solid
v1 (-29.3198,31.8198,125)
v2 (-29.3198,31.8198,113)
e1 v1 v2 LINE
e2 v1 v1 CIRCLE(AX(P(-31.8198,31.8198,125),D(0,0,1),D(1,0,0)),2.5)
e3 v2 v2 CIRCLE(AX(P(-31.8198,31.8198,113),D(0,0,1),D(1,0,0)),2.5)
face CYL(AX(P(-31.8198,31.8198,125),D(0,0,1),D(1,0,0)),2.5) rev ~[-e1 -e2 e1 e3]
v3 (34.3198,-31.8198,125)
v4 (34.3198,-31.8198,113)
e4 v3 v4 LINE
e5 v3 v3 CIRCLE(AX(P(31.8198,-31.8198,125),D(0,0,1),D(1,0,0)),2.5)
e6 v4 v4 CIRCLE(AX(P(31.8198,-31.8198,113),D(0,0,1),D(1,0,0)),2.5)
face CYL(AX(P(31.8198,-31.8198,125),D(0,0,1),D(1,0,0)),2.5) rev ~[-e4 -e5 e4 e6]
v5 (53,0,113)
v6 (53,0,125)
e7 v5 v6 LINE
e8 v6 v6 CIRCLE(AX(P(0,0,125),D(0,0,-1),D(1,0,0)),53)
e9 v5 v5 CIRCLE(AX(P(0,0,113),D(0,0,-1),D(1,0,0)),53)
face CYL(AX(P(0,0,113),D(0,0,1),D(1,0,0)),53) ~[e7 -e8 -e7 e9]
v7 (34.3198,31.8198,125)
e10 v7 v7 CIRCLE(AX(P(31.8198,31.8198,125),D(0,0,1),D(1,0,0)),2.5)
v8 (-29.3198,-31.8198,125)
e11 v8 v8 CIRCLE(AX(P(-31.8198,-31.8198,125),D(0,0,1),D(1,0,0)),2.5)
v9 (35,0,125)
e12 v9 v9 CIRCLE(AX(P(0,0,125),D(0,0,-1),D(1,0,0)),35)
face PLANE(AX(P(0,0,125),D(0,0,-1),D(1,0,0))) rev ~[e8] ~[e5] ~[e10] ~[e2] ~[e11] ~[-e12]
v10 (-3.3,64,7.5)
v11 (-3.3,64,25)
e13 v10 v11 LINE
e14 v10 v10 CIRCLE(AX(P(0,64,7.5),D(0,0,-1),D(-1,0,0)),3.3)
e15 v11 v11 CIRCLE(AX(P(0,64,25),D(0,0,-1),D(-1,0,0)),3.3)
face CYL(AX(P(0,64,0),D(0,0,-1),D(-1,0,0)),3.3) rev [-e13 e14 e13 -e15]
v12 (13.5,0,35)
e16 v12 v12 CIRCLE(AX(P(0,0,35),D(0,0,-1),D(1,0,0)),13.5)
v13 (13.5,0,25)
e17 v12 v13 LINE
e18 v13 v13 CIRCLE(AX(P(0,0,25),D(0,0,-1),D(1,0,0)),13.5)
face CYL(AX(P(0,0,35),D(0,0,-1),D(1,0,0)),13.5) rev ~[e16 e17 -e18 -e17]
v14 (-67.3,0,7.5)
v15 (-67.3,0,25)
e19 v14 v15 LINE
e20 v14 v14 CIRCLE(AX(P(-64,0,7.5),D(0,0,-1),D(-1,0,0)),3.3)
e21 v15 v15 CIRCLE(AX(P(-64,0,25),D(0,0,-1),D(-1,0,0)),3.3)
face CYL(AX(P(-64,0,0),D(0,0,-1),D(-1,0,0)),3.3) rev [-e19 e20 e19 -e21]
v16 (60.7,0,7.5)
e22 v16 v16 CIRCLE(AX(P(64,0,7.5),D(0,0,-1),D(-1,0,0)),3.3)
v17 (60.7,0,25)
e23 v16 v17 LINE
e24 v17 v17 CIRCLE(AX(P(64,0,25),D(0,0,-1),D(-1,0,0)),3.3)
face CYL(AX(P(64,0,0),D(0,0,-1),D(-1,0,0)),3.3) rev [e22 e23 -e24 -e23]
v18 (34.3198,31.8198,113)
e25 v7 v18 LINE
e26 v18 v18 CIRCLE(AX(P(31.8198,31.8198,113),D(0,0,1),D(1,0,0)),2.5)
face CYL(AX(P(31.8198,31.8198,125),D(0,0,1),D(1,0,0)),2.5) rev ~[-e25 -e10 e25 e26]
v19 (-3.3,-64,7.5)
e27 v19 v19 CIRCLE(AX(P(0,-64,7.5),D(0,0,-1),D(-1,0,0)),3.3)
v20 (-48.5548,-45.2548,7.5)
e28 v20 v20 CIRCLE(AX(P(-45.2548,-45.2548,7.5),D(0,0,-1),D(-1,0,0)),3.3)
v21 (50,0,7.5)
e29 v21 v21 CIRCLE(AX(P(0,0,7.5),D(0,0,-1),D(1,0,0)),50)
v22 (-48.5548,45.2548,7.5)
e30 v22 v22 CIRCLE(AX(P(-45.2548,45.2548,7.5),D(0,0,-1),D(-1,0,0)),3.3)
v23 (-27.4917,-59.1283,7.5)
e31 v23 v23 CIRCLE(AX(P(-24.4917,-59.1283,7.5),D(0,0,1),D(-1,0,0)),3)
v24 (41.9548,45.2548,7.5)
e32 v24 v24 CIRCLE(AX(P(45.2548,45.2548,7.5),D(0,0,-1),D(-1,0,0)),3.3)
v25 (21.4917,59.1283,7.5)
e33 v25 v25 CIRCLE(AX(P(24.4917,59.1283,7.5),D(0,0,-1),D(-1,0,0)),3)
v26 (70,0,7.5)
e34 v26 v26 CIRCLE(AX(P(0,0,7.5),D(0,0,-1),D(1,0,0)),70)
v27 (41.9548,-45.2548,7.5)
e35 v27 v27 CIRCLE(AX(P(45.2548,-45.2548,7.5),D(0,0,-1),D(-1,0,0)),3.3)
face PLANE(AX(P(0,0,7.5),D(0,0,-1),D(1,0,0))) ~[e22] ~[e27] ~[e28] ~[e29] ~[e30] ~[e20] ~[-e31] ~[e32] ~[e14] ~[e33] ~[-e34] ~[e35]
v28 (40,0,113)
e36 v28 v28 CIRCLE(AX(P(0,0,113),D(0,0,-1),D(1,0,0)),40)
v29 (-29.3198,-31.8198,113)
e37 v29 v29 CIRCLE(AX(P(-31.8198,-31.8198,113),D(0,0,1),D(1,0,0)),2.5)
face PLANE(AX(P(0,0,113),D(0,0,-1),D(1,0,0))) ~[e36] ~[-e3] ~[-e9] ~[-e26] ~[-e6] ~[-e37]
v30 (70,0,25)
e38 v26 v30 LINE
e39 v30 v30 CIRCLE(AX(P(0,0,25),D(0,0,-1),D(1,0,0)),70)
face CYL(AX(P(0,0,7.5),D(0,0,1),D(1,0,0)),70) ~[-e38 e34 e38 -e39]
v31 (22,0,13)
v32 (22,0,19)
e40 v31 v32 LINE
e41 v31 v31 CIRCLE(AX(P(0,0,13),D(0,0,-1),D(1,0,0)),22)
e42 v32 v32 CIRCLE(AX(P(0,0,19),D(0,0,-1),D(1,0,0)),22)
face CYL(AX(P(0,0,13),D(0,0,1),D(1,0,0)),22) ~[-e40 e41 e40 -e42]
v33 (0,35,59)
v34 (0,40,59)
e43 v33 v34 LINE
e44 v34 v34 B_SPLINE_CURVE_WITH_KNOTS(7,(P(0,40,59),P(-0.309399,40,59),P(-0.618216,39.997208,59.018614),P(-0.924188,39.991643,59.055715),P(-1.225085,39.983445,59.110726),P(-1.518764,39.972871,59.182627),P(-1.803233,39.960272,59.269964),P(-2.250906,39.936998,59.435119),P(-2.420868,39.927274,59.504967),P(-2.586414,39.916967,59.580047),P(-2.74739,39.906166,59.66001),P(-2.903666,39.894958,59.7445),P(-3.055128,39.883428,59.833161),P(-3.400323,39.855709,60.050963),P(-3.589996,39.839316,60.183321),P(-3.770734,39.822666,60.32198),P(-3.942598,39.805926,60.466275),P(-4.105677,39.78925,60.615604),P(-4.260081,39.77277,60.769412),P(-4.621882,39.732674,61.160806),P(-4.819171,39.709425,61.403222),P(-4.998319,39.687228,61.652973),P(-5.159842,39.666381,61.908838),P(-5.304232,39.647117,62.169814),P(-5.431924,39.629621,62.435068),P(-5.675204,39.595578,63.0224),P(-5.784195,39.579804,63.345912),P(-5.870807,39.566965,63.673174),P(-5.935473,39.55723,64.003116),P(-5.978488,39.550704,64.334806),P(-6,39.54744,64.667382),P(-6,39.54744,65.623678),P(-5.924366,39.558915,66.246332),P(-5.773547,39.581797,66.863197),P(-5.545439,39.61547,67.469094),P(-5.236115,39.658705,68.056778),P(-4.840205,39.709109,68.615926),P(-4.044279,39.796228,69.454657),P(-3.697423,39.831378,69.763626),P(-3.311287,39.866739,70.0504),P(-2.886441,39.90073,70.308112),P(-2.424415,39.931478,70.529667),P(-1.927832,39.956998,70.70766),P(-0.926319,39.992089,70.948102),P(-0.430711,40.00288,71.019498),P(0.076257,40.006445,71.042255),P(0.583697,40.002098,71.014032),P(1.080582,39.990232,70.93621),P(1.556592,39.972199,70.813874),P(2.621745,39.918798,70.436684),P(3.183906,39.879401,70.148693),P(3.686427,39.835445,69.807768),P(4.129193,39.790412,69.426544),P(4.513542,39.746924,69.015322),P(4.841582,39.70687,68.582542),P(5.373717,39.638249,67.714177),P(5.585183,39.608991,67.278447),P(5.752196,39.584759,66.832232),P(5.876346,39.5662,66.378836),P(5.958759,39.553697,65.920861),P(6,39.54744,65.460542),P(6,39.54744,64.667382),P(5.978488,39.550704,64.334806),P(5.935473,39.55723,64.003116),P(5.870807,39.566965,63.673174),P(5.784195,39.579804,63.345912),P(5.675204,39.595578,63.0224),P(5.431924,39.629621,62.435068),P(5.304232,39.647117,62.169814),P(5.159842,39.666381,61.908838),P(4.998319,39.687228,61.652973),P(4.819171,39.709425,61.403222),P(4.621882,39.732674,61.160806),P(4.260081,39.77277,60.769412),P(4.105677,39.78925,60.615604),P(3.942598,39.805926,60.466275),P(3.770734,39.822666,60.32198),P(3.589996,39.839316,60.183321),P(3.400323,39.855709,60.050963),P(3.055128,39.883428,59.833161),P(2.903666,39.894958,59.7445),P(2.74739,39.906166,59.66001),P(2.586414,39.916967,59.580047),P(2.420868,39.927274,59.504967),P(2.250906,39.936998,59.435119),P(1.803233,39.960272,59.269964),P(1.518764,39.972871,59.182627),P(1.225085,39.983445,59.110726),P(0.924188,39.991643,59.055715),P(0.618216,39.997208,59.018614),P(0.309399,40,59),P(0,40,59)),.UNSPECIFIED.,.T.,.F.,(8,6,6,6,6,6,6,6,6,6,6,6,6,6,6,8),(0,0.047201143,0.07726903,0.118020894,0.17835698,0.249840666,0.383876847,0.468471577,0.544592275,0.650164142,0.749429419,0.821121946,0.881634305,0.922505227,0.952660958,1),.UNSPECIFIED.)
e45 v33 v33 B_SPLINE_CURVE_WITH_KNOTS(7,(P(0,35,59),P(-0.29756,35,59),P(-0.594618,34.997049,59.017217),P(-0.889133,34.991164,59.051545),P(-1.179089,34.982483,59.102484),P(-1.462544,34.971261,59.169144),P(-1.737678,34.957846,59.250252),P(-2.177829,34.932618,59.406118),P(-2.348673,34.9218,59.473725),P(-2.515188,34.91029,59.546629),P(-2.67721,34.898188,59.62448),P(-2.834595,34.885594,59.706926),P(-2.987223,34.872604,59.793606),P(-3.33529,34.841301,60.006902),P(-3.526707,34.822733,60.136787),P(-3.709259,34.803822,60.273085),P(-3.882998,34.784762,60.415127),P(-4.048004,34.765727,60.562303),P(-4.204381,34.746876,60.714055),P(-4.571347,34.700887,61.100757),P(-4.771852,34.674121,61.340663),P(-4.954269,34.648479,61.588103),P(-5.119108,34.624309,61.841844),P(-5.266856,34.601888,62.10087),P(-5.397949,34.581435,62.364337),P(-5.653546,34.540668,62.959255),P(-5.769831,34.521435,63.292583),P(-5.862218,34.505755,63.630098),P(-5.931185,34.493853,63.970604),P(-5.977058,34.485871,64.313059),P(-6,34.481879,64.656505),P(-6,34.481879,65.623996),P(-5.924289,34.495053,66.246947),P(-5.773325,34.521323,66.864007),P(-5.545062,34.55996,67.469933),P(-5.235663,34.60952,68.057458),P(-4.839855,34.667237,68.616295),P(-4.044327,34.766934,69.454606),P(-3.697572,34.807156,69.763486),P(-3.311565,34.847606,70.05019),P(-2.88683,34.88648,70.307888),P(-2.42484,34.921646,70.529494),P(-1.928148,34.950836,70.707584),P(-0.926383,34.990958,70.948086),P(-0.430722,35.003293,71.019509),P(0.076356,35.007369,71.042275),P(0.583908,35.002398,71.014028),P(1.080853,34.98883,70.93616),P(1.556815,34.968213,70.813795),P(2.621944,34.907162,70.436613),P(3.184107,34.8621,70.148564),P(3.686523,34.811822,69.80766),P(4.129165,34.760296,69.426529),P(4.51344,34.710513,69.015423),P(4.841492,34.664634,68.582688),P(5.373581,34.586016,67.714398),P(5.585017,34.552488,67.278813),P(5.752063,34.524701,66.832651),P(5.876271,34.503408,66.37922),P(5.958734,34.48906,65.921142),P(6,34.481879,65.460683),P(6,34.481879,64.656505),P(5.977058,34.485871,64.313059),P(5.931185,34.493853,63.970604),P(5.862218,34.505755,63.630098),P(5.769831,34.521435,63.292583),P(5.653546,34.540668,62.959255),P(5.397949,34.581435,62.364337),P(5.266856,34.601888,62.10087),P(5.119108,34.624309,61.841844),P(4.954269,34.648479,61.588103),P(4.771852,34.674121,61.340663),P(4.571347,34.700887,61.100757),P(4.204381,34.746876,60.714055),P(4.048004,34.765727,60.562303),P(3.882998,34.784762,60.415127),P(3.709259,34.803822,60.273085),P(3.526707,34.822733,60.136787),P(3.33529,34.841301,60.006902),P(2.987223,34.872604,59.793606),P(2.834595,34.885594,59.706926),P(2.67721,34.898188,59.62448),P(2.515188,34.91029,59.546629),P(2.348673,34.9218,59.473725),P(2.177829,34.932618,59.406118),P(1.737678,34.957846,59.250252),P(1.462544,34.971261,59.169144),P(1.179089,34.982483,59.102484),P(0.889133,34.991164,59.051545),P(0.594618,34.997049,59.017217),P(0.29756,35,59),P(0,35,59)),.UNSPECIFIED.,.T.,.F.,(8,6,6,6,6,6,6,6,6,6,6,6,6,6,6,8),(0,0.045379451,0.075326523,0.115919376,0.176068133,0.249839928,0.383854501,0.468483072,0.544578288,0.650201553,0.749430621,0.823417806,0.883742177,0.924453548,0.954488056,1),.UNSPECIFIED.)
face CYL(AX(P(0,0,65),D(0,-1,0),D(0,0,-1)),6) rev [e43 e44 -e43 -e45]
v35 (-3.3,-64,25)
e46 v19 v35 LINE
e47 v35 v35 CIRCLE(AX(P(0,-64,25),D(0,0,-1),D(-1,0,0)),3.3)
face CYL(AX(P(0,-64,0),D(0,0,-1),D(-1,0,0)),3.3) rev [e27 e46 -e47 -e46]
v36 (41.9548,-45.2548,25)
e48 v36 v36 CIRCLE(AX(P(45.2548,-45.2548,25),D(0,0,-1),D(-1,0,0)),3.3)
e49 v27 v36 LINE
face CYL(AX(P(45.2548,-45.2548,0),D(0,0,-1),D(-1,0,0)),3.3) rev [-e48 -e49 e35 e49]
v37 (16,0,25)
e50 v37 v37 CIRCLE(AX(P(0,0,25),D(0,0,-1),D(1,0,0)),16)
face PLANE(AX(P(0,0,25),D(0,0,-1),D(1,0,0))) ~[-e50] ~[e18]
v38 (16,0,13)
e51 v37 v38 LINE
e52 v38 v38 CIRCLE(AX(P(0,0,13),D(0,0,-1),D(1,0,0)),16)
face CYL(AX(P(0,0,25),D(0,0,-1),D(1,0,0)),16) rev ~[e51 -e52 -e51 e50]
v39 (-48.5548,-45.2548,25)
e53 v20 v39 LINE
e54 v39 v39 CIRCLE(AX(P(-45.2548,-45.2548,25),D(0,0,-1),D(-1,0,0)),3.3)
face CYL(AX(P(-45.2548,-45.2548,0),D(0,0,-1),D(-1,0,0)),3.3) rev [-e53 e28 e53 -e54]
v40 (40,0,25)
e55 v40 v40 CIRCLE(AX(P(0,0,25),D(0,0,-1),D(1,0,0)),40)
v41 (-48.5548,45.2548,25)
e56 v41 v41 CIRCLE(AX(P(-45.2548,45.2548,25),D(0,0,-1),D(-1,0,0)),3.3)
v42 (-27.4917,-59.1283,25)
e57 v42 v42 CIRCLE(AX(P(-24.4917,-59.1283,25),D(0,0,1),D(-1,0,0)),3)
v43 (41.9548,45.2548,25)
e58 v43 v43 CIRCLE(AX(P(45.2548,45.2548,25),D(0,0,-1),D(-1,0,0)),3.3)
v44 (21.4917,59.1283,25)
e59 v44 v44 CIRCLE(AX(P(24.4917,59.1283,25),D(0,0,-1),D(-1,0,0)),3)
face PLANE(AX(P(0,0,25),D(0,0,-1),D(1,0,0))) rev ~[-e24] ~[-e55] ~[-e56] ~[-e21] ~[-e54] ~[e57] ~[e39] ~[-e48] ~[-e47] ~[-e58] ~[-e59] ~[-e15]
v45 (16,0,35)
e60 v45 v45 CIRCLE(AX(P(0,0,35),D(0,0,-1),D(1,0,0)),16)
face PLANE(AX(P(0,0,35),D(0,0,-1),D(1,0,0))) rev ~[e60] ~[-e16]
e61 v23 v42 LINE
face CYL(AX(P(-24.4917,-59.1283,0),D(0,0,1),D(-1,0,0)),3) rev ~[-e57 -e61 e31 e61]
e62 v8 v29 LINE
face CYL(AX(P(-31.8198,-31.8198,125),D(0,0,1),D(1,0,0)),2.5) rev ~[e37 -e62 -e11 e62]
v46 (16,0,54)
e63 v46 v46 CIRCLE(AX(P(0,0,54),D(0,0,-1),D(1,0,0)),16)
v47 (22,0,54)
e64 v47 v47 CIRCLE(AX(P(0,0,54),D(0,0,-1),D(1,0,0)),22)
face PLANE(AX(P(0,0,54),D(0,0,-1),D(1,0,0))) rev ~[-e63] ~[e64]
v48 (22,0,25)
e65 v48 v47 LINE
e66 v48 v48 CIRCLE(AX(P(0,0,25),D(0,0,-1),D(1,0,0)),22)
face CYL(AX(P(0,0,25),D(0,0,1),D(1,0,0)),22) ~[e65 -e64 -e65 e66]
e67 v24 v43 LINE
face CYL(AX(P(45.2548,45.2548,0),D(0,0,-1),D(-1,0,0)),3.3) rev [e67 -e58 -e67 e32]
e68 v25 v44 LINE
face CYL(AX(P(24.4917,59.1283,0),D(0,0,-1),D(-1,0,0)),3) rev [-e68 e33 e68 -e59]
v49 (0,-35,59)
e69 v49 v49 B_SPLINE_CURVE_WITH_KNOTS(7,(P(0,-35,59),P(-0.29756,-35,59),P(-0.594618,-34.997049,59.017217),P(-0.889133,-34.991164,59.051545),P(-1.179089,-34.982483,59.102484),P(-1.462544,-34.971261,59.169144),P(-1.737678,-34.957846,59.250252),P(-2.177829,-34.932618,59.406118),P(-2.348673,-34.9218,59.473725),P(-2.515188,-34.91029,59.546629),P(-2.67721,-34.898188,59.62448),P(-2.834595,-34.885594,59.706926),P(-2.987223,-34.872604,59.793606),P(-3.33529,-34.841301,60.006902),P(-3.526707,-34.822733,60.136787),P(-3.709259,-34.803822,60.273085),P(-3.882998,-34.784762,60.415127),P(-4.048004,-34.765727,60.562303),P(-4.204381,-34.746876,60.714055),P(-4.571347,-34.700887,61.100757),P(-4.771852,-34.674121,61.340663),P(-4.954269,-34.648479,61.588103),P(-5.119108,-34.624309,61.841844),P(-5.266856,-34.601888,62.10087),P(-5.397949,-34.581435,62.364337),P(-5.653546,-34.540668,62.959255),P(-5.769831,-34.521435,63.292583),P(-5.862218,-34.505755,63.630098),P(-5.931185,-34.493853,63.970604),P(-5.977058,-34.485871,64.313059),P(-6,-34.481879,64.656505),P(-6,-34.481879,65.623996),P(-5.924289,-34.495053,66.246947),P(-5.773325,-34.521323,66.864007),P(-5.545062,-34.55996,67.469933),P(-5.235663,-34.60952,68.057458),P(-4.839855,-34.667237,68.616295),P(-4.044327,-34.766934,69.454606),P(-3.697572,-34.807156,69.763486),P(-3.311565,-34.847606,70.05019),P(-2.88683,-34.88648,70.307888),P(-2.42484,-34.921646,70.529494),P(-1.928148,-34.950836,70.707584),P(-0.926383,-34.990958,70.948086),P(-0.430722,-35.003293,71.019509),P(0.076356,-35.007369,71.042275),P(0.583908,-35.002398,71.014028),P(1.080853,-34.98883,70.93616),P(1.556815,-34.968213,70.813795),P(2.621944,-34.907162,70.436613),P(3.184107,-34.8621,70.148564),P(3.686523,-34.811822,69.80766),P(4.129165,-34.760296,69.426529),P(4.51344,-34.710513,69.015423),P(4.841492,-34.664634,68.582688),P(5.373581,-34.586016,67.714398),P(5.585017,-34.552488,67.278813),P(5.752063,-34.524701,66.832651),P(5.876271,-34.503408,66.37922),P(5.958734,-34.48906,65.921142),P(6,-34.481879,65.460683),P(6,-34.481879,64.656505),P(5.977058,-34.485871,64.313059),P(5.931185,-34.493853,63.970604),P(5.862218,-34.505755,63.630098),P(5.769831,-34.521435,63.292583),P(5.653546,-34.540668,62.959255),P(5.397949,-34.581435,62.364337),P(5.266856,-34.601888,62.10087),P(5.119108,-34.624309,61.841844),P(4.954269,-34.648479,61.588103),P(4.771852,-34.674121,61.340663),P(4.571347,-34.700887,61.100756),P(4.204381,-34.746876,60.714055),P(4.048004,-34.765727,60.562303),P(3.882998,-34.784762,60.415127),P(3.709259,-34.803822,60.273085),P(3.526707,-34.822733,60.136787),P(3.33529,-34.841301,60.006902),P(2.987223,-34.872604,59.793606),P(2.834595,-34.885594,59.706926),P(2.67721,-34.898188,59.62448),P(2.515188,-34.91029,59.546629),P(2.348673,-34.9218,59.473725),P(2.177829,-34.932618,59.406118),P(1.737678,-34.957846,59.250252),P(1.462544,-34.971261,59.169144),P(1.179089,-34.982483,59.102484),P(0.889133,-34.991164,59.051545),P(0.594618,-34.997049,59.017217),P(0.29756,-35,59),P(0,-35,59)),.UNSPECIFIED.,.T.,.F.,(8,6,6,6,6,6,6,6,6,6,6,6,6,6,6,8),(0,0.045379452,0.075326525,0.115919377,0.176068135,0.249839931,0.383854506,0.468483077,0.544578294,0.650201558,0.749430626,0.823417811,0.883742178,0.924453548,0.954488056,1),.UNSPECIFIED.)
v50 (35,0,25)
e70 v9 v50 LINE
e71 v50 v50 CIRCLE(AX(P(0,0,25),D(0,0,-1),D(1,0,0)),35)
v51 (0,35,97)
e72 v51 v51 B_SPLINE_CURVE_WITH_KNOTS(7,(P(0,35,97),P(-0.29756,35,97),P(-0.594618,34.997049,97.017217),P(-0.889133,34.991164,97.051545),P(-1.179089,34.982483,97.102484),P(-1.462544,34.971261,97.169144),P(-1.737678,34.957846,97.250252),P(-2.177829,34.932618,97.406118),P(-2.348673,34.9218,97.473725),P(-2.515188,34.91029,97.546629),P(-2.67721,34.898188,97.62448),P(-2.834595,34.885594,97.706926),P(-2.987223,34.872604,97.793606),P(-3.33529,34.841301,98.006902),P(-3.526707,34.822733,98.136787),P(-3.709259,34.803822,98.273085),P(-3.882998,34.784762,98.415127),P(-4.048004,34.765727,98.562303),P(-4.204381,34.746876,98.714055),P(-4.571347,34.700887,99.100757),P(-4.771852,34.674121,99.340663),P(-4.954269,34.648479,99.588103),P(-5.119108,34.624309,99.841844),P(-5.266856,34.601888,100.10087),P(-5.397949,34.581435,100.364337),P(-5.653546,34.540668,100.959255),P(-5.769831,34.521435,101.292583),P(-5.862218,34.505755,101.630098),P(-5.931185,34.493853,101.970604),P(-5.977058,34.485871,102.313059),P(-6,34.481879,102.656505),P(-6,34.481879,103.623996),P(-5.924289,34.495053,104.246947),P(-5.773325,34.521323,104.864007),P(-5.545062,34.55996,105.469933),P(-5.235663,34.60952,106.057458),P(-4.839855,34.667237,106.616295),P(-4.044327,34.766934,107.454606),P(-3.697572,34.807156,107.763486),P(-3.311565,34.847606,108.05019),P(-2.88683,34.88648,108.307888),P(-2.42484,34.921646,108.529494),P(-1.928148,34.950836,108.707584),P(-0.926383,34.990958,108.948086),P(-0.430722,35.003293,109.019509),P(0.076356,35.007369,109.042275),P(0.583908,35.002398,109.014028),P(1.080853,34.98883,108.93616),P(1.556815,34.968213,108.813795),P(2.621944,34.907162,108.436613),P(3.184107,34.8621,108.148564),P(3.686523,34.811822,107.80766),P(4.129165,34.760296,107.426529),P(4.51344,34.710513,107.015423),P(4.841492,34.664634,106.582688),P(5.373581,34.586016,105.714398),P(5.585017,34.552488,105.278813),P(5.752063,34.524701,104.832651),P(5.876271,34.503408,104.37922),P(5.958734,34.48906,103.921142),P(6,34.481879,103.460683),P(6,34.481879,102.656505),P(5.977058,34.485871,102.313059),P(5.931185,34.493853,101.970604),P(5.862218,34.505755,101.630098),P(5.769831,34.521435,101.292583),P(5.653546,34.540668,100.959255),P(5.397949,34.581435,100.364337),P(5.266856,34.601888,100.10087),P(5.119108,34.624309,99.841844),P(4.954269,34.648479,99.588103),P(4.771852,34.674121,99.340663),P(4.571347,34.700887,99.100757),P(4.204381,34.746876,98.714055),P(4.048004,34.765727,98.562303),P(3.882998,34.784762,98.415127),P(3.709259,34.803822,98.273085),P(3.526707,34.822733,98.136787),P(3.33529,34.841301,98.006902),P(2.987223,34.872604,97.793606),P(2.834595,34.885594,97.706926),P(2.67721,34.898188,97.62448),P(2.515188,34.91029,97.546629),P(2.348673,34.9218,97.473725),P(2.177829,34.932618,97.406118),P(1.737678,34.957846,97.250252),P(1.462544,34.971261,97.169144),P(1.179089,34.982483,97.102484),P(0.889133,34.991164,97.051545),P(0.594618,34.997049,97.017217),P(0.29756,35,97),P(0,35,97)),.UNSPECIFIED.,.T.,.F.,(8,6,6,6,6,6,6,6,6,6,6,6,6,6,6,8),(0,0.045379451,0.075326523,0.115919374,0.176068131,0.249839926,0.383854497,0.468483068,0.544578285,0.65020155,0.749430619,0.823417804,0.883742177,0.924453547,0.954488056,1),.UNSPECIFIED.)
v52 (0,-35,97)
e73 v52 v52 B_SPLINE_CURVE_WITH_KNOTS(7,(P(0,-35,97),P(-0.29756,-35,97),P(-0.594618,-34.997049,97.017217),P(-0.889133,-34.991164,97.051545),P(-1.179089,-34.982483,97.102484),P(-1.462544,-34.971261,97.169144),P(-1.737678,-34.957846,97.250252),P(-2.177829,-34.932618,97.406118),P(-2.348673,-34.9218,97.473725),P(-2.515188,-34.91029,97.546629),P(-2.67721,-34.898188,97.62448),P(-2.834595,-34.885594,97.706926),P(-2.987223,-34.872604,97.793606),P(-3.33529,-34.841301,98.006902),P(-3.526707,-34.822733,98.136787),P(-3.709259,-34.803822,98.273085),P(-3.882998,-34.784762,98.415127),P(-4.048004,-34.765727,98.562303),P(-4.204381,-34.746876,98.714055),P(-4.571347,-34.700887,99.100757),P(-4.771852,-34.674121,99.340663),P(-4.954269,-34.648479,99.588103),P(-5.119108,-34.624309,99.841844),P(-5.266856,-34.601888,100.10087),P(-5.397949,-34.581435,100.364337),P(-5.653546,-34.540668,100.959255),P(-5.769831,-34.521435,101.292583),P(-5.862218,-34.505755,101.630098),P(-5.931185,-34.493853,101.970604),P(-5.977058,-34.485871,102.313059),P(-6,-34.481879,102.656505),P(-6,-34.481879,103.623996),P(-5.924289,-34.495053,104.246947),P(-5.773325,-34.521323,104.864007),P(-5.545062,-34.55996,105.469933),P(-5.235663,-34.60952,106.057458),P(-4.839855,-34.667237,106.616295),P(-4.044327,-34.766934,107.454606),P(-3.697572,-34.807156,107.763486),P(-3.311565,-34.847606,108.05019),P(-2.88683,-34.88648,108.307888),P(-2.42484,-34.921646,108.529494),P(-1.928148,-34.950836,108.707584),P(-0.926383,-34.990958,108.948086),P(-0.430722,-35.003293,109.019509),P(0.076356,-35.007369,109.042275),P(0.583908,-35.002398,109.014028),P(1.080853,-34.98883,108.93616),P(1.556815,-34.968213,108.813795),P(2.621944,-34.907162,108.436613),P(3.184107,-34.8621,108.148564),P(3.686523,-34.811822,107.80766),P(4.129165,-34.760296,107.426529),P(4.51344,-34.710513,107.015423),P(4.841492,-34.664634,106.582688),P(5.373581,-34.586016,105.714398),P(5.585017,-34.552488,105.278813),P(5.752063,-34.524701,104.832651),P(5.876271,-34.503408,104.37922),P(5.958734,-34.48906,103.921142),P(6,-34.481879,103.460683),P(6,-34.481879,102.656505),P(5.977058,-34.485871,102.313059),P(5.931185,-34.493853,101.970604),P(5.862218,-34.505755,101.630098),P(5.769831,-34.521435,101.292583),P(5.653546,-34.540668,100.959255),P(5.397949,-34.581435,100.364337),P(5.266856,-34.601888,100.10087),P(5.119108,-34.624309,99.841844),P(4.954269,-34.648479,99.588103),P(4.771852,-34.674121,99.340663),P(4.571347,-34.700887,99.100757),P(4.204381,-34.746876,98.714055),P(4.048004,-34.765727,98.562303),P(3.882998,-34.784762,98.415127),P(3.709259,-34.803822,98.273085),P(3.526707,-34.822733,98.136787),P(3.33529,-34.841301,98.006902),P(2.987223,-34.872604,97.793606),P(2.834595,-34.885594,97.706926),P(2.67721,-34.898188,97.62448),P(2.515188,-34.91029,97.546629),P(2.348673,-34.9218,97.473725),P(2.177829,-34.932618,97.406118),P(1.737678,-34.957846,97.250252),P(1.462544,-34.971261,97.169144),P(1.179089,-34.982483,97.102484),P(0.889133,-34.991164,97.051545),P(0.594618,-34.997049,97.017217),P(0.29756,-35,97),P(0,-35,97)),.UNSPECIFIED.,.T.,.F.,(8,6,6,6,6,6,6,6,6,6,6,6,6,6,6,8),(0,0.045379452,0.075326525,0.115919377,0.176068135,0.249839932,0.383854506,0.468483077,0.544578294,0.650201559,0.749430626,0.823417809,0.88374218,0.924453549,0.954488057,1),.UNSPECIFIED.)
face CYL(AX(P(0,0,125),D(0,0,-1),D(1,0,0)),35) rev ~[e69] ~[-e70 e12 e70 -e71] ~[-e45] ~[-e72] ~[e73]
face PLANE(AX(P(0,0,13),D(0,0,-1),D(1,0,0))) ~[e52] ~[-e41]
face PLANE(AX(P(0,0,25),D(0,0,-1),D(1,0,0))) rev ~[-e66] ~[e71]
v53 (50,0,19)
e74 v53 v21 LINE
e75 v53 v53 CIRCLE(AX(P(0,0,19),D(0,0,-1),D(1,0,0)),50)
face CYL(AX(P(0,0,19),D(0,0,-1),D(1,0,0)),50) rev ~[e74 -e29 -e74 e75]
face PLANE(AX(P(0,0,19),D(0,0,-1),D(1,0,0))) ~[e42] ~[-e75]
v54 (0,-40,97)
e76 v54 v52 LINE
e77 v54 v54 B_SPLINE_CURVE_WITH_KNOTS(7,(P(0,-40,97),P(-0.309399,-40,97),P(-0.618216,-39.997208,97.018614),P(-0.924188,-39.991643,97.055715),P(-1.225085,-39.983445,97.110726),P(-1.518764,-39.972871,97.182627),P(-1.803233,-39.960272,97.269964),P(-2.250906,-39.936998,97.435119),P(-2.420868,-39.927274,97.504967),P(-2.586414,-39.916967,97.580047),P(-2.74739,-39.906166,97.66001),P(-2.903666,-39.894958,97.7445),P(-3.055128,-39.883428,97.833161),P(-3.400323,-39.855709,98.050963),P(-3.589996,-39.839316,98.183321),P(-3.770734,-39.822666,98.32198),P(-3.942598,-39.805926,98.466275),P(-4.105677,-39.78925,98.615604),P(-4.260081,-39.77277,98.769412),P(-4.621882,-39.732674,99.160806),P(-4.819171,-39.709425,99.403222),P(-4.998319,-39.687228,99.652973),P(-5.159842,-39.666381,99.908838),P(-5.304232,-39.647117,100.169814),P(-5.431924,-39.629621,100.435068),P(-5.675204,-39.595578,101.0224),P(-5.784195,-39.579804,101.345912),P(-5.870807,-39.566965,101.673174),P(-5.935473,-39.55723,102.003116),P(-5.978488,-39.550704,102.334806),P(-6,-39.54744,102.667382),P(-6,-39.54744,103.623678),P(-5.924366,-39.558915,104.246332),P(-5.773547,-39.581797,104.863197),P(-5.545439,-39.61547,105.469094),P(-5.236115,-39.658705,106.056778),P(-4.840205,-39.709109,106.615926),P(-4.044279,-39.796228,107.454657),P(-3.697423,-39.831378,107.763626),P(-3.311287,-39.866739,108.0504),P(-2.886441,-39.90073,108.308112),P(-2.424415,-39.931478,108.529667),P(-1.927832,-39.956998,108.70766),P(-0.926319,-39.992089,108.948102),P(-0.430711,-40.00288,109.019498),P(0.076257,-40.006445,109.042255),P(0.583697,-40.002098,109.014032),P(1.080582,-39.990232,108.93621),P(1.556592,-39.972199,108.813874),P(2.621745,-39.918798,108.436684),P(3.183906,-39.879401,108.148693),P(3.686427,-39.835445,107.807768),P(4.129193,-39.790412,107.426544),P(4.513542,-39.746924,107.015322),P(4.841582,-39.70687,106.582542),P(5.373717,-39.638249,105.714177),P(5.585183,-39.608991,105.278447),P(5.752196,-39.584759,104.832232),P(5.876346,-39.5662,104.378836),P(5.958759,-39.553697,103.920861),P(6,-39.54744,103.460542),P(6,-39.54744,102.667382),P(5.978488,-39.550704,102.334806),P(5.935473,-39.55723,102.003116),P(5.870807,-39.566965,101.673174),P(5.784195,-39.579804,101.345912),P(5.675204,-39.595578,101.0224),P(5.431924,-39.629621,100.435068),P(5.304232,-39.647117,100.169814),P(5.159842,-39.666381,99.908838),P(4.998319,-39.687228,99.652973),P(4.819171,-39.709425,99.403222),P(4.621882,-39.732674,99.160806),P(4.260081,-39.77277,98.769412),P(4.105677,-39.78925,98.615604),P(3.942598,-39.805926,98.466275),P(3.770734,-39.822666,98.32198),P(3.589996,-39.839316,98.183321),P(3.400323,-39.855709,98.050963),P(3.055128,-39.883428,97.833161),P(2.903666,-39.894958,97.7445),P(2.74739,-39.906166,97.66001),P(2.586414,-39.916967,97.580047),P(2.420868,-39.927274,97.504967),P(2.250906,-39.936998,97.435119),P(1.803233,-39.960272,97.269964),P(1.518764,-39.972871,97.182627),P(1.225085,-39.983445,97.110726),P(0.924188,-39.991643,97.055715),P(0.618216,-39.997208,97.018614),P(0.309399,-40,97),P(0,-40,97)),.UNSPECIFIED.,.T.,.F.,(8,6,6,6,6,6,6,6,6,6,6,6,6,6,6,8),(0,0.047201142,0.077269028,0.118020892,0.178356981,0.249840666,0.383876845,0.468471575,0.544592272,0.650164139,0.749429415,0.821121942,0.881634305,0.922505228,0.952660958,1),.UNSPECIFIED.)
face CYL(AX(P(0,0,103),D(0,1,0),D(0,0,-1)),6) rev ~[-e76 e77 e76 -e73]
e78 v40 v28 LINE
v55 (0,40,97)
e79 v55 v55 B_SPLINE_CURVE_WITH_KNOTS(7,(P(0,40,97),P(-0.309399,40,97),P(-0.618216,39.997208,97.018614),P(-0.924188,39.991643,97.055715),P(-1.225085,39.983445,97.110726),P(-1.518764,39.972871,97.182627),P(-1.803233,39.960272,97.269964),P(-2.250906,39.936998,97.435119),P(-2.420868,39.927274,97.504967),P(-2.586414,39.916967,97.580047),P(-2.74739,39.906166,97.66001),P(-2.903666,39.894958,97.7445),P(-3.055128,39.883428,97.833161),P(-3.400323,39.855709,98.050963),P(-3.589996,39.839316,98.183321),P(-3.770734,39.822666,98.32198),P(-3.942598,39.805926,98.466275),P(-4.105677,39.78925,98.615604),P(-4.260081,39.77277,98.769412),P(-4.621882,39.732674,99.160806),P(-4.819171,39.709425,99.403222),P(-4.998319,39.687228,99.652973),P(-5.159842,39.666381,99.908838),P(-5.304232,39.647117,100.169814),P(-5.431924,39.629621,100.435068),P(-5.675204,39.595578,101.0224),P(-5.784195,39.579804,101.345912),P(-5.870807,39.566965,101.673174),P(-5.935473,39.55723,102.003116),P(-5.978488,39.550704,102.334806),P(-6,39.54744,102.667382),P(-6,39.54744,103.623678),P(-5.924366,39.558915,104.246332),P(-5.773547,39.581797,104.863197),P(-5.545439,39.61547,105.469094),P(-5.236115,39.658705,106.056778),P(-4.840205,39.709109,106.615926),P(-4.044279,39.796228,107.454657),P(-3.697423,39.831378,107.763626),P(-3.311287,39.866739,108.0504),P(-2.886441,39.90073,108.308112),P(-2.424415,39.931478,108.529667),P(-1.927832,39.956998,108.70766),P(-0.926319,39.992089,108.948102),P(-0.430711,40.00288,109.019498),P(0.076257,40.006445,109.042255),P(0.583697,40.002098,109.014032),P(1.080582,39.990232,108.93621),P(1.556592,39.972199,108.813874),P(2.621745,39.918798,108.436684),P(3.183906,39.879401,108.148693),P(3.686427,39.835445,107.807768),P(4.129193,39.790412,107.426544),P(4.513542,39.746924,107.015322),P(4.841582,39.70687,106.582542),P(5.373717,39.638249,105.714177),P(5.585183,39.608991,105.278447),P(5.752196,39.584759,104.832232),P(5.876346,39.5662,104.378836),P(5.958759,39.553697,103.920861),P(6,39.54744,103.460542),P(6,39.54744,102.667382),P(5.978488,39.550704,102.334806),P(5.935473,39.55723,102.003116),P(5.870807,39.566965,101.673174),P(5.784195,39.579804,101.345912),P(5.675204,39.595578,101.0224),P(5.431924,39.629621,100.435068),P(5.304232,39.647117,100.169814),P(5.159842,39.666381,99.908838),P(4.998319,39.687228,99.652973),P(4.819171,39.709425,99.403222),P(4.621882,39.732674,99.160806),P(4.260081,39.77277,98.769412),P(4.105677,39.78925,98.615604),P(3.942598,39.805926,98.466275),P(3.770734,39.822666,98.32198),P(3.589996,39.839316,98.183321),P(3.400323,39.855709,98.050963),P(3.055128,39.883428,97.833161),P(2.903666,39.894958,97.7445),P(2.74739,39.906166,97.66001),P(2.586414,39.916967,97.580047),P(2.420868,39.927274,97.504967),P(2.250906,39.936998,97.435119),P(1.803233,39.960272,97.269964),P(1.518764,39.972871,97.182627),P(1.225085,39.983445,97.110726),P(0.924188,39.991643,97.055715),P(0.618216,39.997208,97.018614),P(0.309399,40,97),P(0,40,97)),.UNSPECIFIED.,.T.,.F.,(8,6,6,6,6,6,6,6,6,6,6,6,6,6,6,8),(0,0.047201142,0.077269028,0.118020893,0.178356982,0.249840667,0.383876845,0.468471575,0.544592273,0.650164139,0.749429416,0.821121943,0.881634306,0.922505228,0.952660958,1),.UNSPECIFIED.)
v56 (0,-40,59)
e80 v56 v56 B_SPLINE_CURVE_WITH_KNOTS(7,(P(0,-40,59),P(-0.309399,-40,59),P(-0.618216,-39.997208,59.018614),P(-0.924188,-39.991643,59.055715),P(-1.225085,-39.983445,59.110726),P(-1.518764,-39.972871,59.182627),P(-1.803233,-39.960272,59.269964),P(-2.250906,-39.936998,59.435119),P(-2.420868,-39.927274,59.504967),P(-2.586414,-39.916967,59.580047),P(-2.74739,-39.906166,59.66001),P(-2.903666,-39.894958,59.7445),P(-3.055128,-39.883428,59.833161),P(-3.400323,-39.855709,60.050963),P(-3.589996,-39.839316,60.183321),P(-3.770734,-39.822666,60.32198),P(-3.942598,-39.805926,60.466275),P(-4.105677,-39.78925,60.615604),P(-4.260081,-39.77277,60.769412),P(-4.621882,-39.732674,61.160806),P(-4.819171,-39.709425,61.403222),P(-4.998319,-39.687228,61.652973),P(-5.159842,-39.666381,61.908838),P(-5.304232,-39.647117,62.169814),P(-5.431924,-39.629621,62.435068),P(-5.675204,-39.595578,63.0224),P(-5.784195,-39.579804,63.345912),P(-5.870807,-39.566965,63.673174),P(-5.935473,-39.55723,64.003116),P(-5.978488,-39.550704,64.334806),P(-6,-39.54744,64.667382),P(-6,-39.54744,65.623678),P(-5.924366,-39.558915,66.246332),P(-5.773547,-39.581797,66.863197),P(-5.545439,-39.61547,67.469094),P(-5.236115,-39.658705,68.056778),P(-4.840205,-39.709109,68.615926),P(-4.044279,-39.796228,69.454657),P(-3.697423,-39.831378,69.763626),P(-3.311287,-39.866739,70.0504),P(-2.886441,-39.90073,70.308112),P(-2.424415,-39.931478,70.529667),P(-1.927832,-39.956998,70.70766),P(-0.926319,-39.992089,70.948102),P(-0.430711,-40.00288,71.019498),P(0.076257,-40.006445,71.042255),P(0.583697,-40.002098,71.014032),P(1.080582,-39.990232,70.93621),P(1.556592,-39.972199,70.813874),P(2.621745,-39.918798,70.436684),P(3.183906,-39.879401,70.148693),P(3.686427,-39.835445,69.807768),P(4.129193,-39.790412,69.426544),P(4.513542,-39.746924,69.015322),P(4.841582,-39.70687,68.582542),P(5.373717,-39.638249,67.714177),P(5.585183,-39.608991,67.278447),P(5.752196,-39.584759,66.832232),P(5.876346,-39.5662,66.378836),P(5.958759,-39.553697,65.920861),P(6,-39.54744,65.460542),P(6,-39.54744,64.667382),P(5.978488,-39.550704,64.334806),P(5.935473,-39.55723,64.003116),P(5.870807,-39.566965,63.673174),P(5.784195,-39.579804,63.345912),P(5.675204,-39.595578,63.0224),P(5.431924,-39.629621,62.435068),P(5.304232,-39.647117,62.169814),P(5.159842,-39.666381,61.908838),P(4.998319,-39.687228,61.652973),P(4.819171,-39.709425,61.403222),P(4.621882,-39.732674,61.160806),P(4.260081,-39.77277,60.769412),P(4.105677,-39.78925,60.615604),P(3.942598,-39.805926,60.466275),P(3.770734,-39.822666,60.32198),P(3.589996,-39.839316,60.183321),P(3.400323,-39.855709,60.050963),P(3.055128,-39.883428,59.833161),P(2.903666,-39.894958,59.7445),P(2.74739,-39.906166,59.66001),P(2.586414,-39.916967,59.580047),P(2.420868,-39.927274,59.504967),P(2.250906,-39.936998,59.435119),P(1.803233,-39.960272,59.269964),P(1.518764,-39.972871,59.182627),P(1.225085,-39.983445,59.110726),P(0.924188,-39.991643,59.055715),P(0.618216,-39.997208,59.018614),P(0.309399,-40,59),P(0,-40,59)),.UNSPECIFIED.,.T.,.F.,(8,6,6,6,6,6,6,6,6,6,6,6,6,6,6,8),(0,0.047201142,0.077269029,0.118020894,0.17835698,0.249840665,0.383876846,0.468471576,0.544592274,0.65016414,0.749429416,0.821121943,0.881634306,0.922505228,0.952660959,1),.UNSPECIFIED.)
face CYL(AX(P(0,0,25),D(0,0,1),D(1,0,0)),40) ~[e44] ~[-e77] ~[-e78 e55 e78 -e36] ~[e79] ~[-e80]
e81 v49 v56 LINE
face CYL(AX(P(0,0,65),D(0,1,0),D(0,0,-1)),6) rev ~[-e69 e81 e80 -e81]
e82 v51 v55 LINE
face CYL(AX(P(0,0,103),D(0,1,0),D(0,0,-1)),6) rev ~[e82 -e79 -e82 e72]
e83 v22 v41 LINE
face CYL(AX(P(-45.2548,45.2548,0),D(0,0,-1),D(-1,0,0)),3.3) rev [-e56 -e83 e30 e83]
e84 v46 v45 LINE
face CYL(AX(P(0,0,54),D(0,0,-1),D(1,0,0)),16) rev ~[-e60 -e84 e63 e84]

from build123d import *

# Parameters (mm, degrees)
SKETCH2_R                              = 3.3
SKETCH2_R_2                            = 3
CUT_8XTIE_D6_6_2XDOWEL_D6_PCD128_DEPTH = 150
SKETCH3_R                              = 2.5
CUT_4XM6_MOTOR_TAPS_PCD90_DEPTH        = 12
SKETCH4_R                              = 6
CUT_COUPLING_ACCESS_D12_DEPTH          = 150


with BuildPart() as part:
    # Sketch1 → REV_Input_Housing_Motor_Adapter (revolve)
    with BuildSketch(Plane(origin=(0, 0, 0), x_dir=(1, 0, 0), z_dir=(0, 1, 0))):
        Polygon((16, -13), (22, -13), (22, -19), (50, -19), (50, -7.5), (70, -7.5), (70, -25), (40, -25), (40, -113), (53, -113), (53, -125), (35, -125), (35, -25), (22, -25), (22, -54), (16, -54), (16, -35), (13.5, -35), (13.5, -25), (16, -25), align=None)
    revolve(axis=Axis((0, 0, 150), (0, 0, -1)))

    # Sketch2 → CUT_8xTie_D6.6_2xDowel_D6_PCD128 (cut, symmetric)
    with BuildSketch(Plane.XY):
        with Locations(Location((64, 0, 0), (0, 0, 180))):
            Circle(SKETCH2_R)
        with Locations(Location((45.2548, 45.2548, 0), (0, 0, 180))):
            Circle(SKETCH2_R)
        with Locations(Location((0, 64, 0), (0, 0, 180))):
            Circle(SKETCH2_R)
        with Locations(Location((-45.2548, 45.2548, 0), (0, 0, 180))):
            Circle(SKETCH2_R)
        with Locations(Location((-64, 0, 0), (0, 0, 180))):
            Circle(SKETCH2_R)
        with Locations(Location((-45.2548, -45.2548, 0), (0, 0, 180))):
            Circle(SKETCH2_R)
        with Locations(Location((0, -64, 0), (0, 0, 180))):
            Circle(SKETCH2_R)
        with Locations(Location((45.2548, -45.2548, 0), (0, 0, 180))):
            Circle(SKETCH2_R)
        with Locations(Location((24.4917, 59.1283, 0), (0, 0, 180))):
            Circle(SKETCH2_R_2)
        with Locations(Location((-24.4917, -59.1283, 0), (0, 0, 180))):
            Circle(SKETCH2_R_2)
    extrude(amount=CUT_8XTIE_D6_6_2XDOWEL_D6_PCD128_DEPTH, both=True, mode=Mode.SUBTRACT)

    # Sketch3 → CUT_4xM6_Motor_Taps_PCD90 (cut)
    with BuildSketch(Plane.XY.offset(125)):
        with Locations((31.8198, 31.8198)):
            Circle(SKETCH3_R)
        with Locations((-31.8198, 31.8198)):
            Circle(SKETCH3_R)
        with Locations((-31.8198, -31.8198)):
            Circle(SKETCH3_R)
        with Locations((31.8198, -31.8198)):
            Circle(SKETCH3_R)
    extrude(amount=-CUT_4XM6_MOTOR_TAPS_PCD90_DEPTH, mode=Mode.SUBTRACT)

    # Sketch4 → CUT_Coupling_Access_D12 (cut, symmetric)
    with BuildSketch(Plane(origin=(0, 0, 0), x_dir=(1, 0, 0), z_dir=(0, 1, 0))):
        with Locations(Location((0, -65, 0), (0, 0, 90))):
            Circle(SKETCH4_R)
        with Locations(Location((0, -103, 0), (0, 0, 90))):
            Circle(SKETCH4_R)
    extrude(amount=CUT_COUPLING_ACCESS_D12_DEPTH, both=True, mode=Mode.SUBTRACT)


solid = part.part
